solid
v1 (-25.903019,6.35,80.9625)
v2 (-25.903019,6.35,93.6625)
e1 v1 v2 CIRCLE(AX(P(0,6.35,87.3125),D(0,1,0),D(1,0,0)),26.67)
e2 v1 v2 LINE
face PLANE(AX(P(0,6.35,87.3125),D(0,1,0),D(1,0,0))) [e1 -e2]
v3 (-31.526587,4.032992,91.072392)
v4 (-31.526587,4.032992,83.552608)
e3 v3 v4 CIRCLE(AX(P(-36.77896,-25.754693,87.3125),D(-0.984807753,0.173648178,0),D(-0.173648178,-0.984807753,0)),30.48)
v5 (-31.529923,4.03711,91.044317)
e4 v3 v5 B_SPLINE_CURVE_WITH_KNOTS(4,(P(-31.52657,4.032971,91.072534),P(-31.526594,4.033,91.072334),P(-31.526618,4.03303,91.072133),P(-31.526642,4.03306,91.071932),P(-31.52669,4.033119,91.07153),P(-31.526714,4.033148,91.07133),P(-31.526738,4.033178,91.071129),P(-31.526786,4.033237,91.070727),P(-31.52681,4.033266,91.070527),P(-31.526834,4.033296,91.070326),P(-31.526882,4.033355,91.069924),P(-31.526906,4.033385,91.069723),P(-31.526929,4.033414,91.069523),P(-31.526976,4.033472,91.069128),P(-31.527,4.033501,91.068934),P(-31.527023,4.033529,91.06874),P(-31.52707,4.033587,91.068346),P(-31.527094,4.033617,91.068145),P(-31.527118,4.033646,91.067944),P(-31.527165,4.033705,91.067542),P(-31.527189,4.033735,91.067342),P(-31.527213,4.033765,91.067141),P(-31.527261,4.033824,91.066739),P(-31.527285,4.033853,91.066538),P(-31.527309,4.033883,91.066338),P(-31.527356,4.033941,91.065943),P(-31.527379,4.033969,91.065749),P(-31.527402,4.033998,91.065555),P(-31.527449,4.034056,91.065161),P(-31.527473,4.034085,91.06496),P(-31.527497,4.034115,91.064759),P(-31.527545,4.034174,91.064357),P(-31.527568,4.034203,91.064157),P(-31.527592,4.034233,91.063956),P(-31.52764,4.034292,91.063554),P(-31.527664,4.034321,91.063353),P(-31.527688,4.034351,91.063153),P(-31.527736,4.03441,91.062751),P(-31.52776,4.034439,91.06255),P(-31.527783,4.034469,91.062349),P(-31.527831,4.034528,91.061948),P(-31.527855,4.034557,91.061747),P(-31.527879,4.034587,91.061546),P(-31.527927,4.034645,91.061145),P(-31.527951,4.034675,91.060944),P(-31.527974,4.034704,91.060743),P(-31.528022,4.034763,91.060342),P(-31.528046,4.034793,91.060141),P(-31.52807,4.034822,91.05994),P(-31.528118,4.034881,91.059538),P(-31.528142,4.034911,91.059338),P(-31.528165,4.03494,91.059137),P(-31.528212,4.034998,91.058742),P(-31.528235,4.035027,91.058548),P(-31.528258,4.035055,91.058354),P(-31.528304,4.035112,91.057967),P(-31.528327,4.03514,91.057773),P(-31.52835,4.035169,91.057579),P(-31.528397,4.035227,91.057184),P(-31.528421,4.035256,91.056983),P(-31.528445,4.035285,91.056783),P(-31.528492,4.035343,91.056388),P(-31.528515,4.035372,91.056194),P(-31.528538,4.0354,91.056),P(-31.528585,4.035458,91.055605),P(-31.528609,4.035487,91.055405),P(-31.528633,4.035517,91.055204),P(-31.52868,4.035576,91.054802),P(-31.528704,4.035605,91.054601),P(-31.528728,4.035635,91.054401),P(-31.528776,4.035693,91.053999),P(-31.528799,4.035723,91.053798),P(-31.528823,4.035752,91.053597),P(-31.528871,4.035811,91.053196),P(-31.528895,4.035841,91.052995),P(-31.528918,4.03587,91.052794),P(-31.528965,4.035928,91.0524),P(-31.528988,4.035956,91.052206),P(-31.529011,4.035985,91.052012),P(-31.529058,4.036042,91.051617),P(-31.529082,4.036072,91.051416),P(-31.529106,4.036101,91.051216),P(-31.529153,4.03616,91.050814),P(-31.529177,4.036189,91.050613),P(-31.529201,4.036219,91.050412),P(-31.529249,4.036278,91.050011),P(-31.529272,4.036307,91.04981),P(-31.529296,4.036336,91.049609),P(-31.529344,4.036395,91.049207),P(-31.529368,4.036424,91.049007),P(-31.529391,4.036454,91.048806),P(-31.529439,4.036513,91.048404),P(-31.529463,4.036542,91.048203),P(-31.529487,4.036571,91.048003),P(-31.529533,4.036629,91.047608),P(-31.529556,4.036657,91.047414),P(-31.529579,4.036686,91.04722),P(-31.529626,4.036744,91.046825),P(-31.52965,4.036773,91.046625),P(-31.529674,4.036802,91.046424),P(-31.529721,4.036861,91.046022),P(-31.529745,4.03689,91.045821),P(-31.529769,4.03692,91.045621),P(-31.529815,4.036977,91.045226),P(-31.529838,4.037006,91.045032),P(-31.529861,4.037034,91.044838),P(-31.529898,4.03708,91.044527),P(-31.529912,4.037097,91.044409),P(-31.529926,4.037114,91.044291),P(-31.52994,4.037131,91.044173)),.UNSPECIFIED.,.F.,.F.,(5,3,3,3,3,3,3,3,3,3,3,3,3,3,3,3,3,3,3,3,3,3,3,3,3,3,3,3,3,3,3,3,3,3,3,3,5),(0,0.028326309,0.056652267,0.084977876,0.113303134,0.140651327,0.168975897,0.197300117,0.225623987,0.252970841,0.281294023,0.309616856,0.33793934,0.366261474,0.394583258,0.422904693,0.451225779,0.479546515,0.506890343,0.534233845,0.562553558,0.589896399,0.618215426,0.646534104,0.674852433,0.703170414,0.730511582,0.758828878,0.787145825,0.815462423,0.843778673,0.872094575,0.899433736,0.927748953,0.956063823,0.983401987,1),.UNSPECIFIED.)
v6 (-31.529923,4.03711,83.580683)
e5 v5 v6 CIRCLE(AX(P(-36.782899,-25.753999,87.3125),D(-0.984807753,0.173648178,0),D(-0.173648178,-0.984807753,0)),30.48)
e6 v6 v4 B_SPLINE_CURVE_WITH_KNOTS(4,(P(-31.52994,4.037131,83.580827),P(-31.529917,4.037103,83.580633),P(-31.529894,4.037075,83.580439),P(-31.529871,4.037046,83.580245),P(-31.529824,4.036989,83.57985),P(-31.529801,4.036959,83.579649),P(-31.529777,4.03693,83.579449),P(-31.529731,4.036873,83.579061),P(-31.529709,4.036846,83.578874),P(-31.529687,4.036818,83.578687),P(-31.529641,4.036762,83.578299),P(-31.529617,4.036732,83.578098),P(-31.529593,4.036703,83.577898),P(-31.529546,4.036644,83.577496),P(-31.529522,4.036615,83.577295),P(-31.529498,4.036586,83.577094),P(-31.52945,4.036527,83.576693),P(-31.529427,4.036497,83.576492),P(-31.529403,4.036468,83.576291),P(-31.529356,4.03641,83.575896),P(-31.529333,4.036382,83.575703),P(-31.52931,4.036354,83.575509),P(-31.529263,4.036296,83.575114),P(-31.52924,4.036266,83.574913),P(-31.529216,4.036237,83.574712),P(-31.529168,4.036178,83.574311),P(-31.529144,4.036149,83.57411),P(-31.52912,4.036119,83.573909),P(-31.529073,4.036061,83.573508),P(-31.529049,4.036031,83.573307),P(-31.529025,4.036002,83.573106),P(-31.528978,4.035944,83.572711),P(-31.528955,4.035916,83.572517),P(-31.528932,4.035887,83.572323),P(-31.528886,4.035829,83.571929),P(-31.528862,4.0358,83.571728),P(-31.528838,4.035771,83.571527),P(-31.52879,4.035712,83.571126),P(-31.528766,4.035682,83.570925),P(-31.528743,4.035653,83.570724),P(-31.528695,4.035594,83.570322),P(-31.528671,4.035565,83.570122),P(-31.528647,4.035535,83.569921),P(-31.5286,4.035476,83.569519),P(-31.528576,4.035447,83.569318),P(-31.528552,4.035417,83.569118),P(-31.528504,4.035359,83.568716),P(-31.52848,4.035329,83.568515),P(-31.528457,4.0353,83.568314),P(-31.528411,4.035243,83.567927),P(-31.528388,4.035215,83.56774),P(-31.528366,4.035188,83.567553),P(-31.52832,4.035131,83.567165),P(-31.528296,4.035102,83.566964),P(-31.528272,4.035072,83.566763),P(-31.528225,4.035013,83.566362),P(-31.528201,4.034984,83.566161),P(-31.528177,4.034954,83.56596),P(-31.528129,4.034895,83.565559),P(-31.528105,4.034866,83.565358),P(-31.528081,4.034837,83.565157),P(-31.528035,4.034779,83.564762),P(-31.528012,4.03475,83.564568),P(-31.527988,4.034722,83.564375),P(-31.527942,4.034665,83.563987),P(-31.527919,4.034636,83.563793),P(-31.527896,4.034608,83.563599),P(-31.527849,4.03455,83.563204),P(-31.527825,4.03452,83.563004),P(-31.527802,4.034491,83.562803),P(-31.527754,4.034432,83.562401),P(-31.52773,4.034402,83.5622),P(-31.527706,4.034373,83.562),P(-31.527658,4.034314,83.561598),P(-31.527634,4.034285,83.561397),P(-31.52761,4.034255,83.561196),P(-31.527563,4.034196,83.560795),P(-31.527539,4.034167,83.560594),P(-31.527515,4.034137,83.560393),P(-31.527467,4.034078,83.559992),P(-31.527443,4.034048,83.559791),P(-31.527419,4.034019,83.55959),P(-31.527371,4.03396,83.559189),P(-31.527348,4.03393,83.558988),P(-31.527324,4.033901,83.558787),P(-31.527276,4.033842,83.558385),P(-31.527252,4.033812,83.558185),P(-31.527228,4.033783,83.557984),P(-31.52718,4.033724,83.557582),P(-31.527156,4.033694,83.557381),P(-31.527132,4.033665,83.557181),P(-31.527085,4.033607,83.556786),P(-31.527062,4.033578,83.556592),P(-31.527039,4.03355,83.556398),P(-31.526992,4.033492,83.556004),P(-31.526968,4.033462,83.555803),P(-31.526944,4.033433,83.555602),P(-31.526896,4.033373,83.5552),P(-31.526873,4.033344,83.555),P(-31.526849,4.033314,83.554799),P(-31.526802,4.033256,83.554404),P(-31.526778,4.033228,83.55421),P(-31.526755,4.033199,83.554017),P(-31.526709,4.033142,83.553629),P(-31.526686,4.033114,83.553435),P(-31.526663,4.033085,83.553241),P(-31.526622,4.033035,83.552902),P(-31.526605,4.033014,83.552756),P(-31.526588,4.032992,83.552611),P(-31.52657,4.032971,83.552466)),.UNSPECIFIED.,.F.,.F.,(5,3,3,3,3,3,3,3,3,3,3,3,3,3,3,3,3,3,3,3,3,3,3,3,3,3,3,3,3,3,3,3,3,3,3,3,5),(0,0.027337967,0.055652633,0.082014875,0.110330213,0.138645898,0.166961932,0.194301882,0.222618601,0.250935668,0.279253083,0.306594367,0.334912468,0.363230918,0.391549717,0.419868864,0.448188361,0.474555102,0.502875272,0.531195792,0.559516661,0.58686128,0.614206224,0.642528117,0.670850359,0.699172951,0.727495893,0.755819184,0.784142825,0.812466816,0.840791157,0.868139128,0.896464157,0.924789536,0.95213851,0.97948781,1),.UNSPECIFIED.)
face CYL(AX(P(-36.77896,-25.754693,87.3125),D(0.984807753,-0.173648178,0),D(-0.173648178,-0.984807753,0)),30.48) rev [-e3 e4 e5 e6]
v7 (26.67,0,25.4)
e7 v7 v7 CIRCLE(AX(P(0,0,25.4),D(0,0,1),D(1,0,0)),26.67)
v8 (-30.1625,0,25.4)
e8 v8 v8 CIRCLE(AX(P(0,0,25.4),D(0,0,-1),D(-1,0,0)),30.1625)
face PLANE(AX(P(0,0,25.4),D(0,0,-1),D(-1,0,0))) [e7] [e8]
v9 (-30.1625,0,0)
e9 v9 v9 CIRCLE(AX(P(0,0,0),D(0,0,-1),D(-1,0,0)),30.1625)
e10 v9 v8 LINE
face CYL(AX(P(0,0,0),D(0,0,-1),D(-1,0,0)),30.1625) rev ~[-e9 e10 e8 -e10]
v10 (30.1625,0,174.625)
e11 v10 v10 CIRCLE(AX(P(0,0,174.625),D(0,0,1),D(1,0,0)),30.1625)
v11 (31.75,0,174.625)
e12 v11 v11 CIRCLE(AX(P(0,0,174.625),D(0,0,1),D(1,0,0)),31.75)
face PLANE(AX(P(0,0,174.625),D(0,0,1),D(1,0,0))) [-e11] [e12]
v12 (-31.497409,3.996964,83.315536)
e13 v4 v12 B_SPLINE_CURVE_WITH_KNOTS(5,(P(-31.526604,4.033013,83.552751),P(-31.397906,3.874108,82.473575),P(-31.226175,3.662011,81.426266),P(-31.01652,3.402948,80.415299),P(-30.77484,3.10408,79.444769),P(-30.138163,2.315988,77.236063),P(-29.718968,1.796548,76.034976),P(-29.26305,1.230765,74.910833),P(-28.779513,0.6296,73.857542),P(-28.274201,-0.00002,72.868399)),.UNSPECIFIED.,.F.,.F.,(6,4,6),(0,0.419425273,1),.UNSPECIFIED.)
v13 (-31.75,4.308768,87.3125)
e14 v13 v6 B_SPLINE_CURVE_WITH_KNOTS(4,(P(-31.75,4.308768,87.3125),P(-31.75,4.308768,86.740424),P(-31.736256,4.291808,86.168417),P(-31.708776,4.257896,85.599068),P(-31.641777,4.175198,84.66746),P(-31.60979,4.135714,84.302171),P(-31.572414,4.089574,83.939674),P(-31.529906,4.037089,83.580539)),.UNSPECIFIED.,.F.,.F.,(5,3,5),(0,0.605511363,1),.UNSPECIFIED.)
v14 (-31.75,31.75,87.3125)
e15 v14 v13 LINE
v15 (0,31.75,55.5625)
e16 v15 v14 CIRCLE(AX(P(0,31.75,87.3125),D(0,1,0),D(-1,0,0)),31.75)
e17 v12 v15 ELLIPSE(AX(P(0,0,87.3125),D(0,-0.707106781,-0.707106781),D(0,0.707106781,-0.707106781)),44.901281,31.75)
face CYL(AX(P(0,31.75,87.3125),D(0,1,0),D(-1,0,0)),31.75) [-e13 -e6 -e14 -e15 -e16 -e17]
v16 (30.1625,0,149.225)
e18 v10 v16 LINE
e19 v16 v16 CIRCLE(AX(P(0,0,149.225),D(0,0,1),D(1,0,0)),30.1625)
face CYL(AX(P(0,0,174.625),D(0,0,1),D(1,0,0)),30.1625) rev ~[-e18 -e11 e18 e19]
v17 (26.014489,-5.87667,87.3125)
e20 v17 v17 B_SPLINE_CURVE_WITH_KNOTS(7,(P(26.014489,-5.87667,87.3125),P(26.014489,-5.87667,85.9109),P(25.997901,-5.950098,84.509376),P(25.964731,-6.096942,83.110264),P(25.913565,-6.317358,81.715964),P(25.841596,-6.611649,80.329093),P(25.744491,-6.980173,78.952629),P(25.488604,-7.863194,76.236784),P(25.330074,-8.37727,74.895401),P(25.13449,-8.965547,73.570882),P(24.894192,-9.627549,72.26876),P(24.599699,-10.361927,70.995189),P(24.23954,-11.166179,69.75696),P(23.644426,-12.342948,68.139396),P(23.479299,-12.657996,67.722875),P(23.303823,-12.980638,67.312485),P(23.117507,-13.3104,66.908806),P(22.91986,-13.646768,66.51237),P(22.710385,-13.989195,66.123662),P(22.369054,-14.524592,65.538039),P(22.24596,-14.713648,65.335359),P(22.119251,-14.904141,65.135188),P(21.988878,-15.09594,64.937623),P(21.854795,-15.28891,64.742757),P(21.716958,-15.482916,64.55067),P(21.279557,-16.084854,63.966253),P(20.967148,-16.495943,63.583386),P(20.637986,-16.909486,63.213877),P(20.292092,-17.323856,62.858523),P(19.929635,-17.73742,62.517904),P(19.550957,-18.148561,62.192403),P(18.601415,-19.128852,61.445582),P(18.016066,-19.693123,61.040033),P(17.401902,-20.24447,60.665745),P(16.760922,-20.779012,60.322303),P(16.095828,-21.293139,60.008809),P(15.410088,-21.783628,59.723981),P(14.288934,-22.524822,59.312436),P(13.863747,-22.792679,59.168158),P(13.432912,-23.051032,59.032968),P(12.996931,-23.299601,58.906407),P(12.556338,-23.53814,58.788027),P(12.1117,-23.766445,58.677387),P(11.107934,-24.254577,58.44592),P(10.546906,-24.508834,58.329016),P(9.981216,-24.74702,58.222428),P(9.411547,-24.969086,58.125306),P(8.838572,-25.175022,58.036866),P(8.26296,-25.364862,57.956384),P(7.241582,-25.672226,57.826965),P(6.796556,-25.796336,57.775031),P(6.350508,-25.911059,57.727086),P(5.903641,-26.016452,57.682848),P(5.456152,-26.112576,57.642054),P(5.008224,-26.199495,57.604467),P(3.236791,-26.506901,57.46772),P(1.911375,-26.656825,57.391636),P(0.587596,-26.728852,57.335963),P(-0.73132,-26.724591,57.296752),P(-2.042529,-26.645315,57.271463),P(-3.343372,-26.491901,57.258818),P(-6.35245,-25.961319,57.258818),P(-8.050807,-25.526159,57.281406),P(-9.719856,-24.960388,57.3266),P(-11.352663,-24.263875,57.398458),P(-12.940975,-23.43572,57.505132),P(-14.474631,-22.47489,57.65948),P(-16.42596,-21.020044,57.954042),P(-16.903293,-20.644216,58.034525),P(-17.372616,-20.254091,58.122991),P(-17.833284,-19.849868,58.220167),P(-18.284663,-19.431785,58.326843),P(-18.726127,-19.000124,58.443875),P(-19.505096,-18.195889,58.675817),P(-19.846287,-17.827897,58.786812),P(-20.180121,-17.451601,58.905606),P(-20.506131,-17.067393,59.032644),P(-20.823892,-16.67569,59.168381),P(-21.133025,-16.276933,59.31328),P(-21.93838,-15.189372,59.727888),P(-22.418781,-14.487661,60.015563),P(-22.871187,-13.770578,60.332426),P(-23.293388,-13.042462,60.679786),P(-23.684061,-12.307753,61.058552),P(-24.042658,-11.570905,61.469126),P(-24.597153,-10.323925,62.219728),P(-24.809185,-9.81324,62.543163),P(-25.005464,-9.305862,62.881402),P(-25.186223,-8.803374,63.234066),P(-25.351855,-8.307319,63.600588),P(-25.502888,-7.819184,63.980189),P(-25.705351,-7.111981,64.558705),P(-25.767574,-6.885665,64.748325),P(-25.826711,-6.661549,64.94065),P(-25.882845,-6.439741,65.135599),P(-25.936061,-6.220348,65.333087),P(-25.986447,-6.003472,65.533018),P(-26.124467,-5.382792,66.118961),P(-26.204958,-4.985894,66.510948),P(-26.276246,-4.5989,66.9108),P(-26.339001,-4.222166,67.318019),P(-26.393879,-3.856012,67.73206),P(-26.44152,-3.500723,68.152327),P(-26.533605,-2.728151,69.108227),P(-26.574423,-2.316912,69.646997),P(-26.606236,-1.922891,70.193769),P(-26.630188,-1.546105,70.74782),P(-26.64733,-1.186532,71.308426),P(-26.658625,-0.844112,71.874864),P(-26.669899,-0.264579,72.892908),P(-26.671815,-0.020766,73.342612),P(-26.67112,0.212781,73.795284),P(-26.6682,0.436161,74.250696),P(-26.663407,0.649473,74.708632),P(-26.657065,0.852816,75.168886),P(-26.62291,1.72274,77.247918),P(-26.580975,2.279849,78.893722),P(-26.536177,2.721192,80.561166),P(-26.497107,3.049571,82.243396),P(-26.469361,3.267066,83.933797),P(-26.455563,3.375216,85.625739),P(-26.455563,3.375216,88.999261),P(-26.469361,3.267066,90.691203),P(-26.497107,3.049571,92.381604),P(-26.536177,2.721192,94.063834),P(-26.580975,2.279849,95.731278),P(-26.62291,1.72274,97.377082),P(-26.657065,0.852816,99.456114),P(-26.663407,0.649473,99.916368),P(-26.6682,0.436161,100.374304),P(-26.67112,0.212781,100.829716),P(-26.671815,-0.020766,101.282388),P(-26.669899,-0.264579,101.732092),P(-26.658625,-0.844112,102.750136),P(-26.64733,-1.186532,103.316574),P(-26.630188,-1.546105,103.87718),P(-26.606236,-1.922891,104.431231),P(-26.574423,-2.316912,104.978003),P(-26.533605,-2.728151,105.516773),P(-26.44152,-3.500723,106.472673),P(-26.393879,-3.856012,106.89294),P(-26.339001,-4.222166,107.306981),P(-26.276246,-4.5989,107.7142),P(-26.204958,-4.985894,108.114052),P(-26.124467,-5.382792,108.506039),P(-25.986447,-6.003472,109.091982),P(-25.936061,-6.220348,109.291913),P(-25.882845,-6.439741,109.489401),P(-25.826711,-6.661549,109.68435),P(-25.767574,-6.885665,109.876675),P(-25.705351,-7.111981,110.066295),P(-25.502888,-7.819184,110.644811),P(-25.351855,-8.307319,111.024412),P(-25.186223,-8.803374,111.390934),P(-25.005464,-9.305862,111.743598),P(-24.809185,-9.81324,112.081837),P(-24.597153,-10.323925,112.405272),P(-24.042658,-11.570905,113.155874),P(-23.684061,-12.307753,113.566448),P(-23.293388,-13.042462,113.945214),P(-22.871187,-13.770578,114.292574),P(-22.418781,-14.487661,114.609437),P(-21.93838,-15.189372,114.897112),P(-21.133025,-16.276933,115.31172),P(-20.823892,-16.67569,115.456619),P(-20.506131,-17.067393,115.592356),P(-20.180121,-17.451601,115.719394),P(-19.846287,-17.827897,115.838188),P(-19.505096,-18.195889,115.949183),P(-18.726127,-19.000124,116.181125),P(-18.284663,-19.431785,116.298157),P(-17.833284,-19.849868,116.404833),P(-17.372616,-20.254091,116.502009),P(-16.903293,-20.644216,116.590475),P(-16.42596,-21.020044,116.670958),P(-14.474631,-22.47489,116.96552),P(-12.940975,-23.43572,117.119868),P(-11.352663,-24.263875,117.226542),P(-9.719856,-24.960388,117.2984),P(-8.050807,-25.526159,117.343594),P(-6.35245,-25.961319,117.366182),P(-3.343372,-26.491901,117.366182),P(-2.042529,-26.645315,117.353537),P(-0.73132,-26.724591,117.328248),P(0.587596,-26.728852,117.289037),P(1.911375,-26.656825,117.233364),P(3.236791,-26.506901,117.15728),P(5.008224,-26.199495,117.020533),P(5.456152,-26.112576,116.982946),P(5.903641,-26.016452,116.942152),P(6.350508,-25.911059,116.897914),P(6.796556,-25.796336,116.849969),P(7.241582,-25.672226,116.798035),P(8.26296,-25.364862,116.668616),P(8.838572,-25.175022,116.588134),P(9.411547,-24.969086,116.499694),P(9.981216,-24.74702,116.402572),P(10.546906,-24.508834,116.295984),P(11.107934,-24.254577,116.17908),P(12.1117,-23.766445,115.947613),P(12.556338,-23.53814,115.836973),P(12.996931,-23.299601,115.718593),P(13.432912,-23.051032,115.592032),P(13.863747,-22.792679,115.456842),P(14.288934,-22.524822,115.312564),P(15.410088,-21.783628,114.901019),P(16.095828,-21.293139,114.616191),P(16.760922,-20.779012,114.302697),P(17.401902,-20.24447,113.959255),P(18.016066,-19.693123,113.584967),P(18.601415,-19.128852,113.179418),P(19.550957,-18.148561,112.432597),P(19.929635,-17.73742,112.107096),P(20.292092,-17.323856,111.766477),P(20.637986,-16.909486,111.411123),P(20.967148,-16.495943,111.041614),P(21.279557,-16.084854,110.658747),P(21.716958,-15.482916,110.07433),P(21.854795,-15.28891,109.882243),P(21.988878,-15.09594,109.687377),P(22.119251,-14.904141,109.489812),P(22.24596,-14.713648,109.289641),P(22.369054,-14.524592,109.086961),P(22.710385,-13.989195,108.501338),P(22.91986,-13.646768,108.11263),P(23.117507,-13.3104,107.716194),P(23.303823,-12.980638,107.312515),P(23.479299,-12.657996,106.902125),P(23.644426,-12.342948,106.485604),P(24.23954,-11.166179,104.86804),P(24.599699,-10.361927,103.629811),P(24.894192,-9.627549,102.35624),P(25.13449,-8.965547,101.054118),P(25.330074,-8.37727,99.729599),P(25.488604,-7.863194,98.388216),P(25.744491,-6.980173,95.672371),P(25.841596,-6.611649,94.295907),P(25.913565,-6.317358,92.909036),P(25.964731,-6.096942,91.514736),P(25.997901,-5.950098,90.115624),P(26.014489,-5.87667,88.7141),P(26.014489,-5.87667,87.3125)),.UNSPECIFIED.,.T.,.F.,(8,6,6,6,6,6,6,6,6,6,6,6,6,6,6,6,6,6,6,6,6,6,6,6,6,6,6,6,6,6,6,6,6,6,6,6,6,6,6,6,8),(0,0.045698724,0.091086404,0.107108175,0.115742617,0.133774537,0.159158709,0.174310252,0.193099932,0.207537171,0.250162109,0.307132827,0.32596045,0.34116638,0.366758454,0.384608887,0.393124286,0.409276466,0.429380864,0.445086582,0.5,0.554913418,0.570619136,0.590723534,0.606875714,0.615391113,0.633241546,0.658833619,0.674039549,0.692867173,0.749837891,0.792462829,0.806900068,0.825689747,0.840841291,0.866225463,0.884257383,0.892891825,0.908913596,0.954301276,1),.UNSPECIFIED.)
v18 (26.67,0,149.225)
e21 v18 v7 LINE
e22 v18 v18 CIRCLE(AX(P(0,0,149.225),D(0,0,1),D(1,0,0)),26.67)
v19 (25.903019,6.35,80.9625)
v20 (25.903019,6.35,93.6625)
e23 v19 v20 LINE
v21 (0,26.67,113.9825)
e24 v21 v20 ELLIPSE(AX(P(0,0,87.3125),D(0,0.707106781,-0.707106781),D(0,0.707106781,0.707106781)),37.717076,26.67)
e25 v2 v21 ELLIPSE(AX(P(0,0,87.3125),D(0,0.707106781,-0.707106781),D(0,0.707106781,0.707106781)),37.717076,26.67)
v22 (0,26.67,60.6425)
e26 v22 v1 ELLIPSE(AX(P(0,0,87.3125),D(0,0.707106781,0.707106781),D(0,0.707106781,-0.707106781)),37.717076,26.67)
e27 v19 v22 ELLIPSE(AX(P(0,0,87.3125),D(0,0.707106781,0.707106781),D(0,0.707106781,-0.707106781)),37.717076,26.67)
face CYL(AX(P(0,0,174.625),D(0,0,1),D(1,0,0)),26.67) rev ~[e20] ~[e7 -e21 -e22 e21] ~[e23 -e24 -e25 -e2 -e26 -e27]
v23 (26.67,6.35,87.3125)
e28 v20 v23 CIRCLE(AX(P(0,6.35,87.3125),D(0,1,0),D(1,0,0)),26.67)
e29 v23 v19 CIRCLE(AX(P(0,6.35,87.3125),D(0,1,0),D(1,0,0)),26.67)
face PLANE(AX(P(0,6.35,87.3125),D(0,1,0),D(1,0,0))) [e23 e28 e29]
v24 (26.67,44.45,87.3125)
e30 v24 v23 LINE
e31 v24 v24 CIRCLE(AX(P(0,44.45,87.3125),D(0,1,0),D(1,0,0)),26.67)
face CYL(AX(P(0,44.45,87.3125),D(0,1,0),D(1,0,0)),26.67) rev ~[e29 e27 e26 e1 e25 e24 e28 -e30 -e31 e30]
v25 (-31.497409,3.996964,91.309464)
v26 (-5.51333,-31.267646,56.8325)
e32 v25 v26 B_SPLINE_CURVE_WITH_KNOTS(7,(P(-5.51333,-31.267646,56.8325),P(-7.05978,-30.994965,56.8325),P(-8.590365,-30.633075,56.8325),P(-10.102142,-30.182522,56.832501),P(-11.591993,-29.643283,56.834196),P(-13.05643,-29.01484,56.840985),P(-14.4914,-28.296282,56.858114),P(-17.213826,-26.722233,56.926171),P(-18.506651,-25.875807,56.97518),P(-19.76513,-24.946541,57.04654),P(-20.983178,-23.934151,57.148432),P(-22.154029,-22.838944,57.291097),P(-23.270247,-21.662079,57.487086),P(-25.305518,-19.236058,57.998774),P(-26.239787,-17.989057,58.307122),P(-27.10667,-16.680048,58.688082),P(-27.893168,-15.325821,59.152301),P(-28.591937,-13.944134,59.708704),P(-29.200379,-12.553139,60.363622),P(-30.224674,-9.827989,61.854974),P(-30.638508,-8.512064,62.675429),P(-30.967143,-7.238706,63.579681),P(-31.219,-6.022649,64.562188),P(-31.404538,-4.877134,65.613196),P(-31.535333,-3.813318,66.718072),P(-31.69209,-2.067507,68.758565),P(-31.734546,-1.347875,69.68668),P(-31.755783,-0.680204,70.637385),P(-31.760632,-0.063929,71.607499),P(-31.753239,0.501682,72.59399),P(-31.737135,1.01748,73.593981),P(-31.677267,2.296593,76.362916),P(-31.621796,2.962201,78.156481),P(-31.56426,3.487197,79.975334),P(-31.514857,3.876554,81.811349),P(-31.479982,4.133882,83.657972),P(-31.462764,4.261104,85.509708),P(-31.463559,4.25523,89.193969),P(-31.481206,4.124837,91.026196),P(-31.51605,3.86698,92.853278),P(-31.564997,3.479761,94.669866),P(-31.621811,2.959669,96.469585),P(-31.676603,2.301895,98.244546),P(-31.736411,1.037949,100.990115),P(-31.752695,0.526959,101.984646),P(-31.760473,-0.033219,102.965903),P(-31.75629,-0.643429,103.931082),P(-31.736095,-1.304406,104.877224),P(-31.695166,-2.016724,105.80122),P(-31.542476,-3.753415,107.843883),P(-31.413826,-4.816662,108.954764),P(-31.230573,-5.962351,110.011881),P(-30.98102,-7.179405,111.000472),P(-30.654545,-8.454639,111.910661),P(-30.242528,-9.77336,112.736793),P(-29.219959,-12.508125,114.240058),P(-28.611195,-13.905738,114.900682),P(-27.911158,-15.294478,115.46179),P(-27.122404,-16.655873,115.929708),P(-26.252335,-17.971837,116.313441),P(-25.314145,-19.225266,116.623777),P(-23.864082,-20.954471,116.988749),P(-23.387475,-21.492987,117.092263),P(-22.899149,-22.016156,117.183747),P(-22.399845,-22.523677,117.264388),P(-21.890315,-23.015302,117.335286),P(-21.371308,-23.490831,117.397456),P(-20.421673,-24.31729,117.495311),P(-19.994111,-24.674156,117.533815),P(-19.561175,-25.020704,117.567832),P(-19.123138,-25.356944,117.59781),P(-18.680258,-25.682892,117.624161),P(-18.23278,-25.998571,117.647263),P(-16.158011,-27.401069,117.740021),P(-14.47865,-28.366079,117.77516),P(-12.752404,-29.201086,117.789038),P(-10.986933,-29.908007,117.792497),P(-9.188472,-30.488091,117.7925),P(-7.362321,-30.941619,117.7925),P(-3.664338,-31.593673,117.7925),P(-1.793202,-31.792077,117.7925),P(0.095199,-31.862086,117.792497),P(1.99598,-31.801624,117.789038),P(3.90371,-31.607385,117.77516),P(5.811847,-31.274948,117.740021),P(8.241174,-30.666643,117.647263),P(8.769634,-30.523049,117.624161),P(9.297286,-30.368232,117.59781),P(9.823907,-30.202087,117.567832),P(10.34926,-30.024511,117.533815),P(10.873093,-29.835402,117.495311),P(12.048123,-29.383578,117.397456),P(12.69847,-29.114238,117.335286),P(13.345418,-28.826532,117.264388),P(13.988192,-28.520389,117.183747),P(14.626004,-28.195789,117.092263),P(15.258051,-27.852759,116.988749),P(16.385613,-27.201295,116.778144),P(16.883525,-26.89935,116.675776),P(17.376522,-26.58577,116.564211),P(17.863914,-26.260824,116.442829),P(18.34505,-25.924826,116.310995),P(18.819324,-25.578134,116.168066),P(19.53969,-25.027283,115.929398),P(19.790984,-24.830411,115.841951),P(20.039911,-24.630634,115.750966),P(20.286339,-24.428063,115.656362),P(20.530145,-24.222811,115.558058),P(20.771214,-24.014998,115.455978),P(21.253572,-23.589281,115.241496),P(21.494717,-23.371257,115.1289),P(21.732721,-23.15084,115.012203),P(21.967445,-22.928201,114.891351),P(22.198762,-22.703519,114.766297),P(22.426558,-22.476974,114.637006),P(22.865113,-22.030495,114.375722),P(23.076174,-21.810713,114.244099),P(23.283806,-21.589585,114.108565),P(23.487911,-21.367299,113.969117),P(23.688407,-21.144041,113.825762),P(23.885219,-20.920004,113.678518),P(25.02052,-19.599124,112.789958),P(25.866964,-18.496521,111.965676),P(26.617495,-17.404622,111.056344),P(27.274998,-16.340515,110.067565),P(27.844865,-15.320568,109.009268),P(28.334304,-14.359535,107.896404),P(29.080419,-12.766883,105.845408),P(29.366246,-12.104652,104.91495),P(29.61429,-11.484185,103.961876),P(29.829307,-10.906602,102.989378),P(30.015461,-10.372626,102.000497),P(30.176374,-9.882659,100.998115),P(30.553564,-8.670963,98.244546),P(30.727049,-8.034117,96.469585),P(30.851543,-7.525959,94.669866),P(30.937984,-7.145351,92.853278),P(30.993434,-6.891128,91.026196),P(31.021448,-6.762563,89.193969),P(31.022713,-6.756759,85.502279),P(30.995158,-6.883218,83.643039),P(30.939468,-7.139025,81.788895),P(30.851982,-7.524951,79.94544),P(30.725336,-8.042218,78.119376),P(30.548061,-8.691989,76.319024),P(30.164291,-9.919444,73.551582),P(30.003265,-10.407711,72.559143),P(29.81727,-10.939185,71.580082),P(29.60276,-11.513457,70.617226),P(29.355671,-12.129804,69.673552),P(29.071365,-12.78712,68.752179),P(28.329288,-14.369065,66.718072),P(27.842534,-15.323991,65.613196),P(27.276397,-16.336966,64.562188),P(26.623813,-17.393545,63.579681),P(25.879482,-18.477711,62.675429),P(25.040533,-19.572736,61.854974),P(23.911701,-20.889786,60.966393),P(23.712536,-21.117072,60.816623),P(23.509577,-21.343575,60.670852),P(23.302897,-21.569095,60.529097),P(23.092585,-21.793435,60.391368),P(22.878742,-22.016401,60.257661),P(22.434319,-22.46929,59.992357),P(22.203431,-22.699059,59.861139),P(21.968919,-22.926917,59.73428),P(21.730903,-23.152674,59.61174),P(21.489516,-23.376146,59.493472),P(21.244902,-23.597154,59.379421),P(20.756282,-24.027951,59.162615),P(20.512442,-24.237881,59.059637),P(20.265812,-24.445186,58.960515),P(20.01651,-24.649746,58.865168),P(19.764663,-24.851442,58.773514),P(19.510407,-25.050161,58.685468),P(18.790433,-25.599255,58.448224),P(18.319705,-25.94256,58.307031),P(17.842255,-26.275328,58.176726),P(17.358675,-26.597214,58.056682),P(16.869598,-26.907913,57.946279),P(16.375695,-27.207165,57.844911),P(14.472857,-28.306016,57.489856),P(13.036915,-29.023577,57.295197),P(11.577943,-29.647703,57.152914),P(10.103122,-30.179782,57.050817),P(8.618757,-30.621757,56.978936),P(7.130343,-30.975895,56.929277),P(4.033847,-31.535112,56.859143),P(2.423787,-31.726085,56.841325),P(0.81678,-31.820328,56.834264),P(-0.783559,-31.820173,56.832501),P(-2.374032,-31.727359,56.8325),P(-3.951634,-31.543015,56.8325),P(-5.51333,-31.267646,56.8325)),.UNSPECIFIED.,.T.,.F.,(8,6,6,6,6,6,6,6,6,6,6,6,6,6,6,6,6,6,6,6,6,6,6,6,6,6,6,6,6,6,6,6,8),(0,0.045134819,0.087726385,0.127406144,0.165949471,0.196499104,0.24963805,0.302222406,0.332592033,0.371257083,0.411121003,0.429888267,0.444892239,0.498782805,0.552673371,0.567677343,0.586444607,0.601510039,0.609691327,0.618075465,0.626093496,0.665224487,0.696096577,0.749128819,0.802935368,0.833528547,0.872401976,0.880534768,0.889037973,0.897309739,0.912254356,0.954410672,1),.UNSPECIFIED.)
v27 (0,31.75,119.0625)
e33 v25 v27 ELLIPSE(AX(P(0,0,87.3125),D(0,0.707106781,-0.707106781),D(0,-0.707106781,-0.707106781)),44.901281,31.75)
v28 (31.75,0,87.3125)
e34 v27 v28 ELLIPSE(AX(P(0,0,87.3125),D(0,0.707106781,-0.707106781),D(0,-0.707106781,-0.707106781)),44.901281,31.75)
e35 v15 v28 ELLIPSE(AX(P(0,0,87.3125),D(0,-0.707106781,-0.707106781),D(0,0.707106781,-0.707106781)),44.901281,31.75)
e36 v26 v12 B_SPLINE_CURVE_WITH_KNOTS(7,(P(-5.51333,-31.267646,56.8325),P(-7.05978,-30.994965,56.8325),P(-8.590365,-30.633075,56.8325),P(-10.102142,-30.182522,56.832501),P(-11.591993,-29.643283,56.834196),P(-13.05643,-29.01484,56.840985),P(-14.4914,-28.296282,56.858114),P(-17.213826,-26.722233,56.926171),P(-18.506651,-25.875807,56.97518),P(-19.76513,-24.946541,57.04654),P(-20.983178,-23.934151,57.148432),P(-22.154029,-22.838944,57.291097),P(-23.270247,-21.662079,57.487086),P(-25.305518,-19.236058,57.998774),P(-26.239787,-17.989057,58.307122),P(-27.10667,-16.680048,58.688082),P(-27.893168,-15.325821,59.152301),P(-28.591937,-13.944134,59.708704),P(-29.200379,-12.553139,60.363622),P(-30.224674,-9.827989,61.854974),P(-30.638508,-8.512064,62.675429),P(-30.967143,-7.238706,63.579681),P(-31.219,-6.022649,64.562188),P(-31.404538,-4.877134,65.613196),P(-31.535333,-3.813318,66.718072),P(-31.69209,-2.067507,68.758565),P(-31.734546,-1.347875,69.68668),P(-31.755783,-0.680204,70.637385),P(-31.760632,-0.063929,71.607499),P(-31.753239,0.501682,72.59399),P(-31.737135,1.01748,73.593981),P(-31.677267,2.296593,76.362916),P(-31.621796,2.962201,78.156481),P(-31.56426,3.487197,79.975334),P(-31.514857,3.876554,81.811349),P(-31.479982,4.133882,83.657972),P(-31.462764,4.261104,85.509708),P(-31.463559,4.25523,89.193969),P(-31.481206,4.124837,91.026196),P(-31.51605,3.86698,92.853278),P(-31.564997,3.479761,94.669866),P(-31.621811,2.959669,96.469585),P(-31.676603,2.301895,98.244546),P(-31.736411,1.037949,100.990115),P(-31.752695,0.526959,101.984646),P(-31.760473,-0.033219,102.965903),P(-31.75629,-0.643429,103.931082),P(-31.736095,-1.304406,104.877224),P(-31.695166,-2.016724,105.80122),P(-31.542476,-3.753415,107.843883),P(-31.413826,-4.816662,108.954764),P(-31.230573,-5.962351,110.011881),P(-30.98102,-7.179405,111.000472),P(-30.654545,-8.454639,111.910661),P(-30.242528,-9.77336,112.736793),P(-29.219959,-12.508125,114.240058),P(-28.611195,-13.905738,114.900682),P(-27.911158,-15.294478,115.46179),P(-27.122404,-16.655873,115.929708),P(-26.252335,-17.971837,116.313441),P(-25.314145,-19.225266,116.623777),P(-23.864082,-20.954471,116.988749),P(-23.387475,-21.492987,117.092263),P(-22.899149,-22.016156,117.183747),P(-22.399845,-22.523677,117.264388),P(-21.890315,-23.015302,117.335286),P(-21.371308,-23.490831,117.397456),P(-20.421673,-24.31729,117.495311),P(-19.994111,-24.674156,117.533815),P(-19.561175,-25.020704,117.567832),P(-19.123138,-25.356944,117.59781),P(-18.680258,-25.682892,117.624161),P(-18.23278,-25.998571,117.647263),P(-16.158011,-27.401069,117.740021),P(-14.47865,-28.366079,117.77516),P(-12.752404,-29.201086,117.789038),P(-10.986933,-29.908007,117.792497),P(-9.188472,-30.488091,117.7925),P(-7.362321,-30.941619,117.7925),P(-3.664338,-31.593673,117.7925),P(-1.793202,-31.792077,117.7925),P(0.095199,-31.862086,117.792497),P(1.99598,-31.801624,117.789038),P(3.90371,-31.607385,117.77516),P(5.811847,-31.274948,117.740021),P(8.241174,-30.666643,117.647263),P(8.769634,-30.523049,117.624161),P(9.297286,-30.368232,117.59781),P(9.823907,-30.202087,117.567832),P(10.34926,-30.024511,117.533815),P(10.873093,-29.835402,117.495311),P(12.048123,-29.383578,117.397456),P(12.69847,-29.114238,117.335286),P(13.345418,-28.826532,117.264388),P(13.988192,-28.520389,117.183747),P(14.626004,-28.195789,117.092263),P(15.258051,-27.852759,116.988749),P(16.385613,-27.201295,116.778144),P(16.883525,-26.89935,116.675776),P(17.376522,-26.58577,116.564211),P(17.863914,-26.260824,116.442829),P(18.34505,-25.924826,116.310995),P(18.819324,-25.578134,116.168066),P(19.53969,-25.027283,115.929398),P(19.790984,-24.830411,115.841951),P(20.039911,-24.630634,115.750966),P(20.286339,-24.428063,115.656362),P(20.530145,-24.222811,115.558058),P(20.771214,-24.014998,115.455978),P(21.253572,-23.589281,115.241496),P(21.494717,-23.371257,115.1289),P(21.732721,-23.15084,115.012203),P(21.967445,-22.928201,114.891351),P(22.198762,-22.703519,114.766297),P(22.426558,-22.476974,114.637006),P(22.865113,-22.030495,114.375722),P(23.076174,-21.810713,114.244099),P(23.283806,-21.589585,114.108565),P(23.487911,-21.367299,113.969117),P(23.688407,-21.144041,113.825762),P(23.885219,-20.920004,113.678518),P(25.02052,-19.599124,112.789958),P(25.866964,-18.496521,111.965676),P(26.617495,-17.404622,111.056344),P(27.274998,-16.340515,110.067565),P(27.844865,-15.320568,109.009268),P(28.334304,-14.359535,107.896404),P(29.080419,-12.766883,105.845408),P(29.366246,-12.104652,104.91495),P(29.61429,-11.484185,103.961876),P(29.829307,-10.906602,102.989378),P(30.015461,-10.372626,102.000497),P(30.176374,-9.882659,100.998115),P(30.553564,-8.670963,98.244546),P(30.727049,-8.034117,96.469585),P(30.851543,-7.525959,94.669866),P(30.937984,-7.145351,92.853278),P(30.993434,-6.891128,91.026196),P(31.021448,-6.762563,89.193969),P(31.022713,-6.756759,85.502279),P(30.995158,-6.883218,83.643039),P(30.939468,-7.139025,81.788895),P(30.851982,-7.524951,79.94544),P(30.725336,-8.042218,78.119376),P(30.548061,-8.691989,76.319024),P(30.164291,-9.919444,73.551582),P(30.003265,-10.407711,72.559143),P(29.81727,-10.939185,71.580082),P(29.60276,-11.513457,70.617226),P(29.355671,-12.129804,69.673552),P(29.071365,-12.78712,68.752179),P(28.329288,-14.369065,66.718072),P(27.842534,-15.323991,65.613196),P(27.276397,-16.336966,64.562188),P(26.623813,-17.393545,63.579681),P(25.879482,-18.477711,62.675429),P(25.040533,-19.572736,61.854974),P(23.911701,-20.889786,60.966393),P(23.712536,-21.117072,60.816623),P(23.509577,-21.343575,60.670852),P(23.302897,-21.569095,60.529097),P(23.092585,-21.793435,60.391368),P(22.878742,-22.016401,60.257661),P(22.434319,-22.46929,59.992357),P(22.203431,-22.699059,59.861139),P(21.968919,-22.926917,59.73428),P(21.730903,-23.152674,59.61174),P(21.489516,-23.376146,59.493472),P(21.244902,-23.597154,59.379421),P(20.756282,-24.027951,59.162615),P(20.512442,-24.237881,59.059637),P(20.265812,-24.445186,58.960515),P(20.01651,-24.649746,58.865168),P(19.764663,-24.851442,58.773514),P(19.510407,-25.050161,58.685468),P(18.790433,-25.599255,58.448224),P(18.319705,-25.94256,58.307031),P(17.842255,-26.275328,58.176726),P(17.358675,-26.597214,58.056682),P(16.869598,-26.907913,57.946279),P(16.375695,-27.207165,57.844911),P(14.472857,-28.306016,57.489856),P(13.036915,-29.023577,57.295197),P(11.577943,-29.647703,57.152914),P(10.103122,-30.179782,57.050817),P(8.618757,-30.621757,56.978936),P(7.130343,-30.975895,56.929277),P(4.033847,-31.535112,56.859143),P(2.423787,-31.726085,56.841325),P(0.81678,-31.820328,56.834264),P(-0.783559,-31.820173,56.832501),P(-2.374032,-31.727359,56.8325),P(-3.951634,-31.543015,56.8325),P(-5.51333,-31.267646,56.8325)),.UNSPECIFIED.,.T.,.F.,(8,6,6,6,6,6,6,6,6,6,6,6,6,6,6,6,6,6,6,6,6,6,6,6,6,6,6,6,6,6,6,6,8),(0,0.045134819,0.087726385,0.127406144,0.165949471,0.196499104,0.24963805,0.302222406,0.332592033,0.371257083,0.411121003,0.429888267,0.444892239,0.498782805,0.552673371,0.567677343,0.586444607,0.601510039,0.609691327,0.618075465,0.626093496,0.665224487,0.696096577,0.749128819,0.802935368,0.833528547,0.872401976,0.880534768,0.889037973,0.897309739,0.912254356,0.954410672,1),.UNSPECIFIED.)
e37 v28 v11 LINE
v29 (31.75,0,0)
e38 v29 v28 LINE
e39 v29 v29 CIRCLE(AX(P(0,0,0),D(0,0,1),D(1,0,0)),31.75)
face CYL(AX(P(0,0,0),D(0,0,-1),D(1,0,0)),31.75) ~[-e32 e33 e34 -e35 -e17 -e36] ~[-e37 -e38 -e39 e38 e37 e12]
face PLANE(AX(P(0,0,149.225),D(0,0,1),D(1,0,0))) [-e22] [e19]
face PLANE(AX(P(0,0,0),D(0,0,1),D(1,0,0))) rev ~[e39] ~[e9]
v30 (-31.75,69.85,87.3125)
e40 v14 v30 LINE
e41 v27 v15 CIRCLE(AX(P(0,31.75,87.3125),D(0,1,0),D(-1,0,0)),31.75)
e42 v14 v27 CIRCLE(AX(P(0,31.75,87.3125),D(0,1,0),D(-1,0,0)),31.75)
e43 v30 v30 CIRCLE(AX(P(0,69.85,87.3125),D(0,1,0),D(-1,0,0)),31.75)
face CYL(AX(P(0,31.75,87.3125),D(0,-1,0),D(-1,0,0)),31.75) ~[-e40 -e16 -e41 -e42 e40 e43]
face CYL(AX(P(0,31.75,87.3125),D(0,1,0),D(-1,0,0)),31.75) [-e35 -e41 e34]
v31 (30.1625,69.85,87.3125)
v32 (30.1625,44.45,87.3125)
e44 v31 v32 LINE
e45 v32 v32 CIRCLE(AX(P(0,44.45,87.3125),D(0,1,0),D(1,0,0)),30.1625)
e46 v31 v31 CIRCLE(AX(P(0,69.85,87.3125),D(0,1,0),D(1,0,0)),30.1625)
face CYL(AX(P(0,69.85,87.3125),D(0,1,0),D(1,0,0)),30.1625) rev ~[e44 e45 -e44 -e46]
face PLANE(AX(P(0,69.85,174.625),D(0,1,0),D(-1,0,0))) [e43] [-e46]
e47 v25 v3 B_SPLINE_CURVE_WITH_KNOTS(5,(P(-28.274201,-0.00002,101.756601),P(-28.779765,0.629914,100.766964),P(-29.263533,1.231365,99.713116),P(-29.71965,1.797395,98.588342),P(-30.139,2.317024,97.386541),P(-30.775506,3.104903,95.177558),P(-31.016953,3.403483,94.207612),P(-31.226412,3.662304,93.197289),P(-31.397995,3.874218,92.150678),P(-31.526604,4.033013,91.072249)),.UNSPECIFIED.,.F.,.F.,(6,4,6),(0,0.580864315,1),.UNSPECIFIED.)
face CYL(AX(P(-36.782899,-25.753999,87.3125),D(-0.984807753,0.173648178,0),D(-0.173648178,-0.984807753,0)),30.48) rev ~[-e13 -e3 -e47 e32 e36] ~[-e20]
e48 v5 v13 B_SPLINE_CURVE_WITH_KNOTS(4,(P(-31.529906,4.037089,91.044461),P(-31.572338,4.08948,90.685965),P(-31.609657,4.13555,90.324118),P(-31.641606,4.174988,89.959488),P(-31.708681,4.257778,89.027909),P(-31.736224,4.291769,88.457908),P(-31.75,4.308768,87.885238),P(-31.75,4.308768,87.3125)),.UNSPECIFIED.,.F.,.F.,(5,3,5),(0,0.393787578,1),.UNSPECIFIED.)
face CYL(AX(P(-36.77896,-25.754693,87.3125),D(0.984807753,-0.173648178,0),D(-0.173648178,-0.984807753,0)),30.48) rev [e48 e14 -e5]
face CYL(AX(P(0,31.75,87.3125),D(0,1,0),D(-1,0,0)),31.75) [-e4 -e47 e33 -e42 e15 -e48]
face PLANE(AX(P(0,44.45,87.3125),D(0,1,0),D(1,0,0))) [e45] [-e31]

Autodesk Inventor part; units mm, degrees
ref_plane "YZ Plane" through (0, 0, 0) normal (1, 0, 0) x (0, 1, 0)
sketch "Sketch1" plane through (0, 0, 0) normal (0, 0, 1) x (1, 0, 0)
  circle A0 centre (0, 0) radius 31.75
  dimension "d0" = 63.5
extrude "mainBody" add sketch "Sketch1" along normal blind 174.625
sketch "Sketch10" plane through (0, 0, 174.625) normal (0, 0, 1) x (1, 0, 0)
  circle A0 centre (0, 0) radius 30.1625 projected
  circle A1 centre (0, 0) radius 31.75 projected
  point P0 (0, 31.75)
ref_plane "Work Plane5" through (0, 31.75, 174.625) normal (0, 1, 0) x (-1, 0, 0)
sketch "Sketch11" plane through (0, 31.75, 174.625) normal (0, 1, 0) x (-1, 0, 0)
  circle A0 centre (0, -87.3125) radius 31.75
  line L0 (31.75, 0) -> (-31.75, 0) projected
  point P0 (0, -174.625)
  dimension "d29" = 87.3125
  dimension "d30" = 63.5
extrude "TBody" add sketch "Sketch11" along normal blind 38.1 and the other way blind 31.75
sketch "Sketch12" plane through (0, 69.85, 87.3125) normal (0, 1, 0) x (1, 0, 0)
  circle A0 centre (0, 0) radius 31.75 projected
  circle A1 centre (0, 0) radius 30.1625
  point P0 (0, 87.3125)
  dimension "d35" = 60.325
extrude "TSocket" cut sketch "Sketch12" against normal blind 25.4 contours A1
sketch "Sketch13" plane through (0, 44.45, 87.3125) normal (0, 1, 0) x (1, 0, 0)
  circle A0 centre (0, 0) radius 30.1625 projected
  circle A1 centre (0, 0) radius 26.67
  point P0 (0, 87.3125)
  dimension "d39" = 53.34
extrude "TTube" cut sketch "Sketch13" against normal blind 38.1 contours A1
sketch "Sketch14" plane through (0, 0, 174.625) normal (0, 0, 1) x (1, 0, 0)
  circle A0 centre (0, 0) radius 31.75 projected
  circle A1 centre (0, 0) radius 26.67
  dimension "d43" = 53.34
extrude "mainTube" cut sketch "Sketch14" against normal blind 177.8 contours A1
sketch "Sketch15" plane through (0, 0, 174.625) normal (0, 0, 1) x (1, 0, 0)
  circle A0 centre (0, 0) radius 26.67 projected
  circle A1 centre (0, 0) radius 31.75 projected
  circle A2 centre (0, 0) radius 30.1625
  dimension "d47" = 60.325
extrude "mainSocket1" cut sketch "Sketch15" against normal blind 25.4 contours A2
sketch "Sketch16" plane through (0, 0, 0) normal (0, 0, -1) x (-1, 0, 0)
  circle A0 centre (0, 0) radius 26.67 projected
  circle A1 centre (0, 0) radius 31.75 projected
  circle A2 centre (0, 0) radius 30.1625
  dimension "d51" = 60.325
extrude "mainSocket2" cut sketch "Sketch16" against normal blind 25.4 contours A2
sketch "Sketch23" plane through (0, 0, 174.625) normal (0, 0, 1) x (1, 0, 0)
  circle A0 centre (0, 0) radius 30.1625 projected
  circle A1 centre (0, 0) radius 31.75 projected
  line L0 (0, 0) -> (-50.0282, 8.8213)
  line L1 (0, 0) -> (50.8, 0) construction
  line L2 (-55.321, -21.1956) -> (-2.6667, -30.48)
  line L3 (-2.6667, -30.48) -> (50.8, -30.48)
  line L4 (-29.3824, 16.2053) -> (-36.5604, -24.5036)
  point P0 (-31.2676, 5.5133)
  dimension "d67" = 50.8
  dimension "d68" = 170
  dimension "d69" = 30.48
ref_plane "Work Plane9" through (-31.2676, 5.5133, 174.625) normal (-0.9848, 0.1736, 0) x (-0.1736, -0.9848, 0)
sketch "Sketch24" plane through (-31.2676, 5.5133, 174.625) normal (-0.9848, 0.1736, 0) x (-0.1736, -0.9848, 0)
  circle A0 centre (31.75, -87.3125) radius 30.48
  point P0 (0, -174.625)
  dimension "d70" = 60.96
extrude "Extrusion18" cut sketch "Sketch24" along normal mid plane 203.2
properties part number "pvc_tee" material "PVC-Piping"
